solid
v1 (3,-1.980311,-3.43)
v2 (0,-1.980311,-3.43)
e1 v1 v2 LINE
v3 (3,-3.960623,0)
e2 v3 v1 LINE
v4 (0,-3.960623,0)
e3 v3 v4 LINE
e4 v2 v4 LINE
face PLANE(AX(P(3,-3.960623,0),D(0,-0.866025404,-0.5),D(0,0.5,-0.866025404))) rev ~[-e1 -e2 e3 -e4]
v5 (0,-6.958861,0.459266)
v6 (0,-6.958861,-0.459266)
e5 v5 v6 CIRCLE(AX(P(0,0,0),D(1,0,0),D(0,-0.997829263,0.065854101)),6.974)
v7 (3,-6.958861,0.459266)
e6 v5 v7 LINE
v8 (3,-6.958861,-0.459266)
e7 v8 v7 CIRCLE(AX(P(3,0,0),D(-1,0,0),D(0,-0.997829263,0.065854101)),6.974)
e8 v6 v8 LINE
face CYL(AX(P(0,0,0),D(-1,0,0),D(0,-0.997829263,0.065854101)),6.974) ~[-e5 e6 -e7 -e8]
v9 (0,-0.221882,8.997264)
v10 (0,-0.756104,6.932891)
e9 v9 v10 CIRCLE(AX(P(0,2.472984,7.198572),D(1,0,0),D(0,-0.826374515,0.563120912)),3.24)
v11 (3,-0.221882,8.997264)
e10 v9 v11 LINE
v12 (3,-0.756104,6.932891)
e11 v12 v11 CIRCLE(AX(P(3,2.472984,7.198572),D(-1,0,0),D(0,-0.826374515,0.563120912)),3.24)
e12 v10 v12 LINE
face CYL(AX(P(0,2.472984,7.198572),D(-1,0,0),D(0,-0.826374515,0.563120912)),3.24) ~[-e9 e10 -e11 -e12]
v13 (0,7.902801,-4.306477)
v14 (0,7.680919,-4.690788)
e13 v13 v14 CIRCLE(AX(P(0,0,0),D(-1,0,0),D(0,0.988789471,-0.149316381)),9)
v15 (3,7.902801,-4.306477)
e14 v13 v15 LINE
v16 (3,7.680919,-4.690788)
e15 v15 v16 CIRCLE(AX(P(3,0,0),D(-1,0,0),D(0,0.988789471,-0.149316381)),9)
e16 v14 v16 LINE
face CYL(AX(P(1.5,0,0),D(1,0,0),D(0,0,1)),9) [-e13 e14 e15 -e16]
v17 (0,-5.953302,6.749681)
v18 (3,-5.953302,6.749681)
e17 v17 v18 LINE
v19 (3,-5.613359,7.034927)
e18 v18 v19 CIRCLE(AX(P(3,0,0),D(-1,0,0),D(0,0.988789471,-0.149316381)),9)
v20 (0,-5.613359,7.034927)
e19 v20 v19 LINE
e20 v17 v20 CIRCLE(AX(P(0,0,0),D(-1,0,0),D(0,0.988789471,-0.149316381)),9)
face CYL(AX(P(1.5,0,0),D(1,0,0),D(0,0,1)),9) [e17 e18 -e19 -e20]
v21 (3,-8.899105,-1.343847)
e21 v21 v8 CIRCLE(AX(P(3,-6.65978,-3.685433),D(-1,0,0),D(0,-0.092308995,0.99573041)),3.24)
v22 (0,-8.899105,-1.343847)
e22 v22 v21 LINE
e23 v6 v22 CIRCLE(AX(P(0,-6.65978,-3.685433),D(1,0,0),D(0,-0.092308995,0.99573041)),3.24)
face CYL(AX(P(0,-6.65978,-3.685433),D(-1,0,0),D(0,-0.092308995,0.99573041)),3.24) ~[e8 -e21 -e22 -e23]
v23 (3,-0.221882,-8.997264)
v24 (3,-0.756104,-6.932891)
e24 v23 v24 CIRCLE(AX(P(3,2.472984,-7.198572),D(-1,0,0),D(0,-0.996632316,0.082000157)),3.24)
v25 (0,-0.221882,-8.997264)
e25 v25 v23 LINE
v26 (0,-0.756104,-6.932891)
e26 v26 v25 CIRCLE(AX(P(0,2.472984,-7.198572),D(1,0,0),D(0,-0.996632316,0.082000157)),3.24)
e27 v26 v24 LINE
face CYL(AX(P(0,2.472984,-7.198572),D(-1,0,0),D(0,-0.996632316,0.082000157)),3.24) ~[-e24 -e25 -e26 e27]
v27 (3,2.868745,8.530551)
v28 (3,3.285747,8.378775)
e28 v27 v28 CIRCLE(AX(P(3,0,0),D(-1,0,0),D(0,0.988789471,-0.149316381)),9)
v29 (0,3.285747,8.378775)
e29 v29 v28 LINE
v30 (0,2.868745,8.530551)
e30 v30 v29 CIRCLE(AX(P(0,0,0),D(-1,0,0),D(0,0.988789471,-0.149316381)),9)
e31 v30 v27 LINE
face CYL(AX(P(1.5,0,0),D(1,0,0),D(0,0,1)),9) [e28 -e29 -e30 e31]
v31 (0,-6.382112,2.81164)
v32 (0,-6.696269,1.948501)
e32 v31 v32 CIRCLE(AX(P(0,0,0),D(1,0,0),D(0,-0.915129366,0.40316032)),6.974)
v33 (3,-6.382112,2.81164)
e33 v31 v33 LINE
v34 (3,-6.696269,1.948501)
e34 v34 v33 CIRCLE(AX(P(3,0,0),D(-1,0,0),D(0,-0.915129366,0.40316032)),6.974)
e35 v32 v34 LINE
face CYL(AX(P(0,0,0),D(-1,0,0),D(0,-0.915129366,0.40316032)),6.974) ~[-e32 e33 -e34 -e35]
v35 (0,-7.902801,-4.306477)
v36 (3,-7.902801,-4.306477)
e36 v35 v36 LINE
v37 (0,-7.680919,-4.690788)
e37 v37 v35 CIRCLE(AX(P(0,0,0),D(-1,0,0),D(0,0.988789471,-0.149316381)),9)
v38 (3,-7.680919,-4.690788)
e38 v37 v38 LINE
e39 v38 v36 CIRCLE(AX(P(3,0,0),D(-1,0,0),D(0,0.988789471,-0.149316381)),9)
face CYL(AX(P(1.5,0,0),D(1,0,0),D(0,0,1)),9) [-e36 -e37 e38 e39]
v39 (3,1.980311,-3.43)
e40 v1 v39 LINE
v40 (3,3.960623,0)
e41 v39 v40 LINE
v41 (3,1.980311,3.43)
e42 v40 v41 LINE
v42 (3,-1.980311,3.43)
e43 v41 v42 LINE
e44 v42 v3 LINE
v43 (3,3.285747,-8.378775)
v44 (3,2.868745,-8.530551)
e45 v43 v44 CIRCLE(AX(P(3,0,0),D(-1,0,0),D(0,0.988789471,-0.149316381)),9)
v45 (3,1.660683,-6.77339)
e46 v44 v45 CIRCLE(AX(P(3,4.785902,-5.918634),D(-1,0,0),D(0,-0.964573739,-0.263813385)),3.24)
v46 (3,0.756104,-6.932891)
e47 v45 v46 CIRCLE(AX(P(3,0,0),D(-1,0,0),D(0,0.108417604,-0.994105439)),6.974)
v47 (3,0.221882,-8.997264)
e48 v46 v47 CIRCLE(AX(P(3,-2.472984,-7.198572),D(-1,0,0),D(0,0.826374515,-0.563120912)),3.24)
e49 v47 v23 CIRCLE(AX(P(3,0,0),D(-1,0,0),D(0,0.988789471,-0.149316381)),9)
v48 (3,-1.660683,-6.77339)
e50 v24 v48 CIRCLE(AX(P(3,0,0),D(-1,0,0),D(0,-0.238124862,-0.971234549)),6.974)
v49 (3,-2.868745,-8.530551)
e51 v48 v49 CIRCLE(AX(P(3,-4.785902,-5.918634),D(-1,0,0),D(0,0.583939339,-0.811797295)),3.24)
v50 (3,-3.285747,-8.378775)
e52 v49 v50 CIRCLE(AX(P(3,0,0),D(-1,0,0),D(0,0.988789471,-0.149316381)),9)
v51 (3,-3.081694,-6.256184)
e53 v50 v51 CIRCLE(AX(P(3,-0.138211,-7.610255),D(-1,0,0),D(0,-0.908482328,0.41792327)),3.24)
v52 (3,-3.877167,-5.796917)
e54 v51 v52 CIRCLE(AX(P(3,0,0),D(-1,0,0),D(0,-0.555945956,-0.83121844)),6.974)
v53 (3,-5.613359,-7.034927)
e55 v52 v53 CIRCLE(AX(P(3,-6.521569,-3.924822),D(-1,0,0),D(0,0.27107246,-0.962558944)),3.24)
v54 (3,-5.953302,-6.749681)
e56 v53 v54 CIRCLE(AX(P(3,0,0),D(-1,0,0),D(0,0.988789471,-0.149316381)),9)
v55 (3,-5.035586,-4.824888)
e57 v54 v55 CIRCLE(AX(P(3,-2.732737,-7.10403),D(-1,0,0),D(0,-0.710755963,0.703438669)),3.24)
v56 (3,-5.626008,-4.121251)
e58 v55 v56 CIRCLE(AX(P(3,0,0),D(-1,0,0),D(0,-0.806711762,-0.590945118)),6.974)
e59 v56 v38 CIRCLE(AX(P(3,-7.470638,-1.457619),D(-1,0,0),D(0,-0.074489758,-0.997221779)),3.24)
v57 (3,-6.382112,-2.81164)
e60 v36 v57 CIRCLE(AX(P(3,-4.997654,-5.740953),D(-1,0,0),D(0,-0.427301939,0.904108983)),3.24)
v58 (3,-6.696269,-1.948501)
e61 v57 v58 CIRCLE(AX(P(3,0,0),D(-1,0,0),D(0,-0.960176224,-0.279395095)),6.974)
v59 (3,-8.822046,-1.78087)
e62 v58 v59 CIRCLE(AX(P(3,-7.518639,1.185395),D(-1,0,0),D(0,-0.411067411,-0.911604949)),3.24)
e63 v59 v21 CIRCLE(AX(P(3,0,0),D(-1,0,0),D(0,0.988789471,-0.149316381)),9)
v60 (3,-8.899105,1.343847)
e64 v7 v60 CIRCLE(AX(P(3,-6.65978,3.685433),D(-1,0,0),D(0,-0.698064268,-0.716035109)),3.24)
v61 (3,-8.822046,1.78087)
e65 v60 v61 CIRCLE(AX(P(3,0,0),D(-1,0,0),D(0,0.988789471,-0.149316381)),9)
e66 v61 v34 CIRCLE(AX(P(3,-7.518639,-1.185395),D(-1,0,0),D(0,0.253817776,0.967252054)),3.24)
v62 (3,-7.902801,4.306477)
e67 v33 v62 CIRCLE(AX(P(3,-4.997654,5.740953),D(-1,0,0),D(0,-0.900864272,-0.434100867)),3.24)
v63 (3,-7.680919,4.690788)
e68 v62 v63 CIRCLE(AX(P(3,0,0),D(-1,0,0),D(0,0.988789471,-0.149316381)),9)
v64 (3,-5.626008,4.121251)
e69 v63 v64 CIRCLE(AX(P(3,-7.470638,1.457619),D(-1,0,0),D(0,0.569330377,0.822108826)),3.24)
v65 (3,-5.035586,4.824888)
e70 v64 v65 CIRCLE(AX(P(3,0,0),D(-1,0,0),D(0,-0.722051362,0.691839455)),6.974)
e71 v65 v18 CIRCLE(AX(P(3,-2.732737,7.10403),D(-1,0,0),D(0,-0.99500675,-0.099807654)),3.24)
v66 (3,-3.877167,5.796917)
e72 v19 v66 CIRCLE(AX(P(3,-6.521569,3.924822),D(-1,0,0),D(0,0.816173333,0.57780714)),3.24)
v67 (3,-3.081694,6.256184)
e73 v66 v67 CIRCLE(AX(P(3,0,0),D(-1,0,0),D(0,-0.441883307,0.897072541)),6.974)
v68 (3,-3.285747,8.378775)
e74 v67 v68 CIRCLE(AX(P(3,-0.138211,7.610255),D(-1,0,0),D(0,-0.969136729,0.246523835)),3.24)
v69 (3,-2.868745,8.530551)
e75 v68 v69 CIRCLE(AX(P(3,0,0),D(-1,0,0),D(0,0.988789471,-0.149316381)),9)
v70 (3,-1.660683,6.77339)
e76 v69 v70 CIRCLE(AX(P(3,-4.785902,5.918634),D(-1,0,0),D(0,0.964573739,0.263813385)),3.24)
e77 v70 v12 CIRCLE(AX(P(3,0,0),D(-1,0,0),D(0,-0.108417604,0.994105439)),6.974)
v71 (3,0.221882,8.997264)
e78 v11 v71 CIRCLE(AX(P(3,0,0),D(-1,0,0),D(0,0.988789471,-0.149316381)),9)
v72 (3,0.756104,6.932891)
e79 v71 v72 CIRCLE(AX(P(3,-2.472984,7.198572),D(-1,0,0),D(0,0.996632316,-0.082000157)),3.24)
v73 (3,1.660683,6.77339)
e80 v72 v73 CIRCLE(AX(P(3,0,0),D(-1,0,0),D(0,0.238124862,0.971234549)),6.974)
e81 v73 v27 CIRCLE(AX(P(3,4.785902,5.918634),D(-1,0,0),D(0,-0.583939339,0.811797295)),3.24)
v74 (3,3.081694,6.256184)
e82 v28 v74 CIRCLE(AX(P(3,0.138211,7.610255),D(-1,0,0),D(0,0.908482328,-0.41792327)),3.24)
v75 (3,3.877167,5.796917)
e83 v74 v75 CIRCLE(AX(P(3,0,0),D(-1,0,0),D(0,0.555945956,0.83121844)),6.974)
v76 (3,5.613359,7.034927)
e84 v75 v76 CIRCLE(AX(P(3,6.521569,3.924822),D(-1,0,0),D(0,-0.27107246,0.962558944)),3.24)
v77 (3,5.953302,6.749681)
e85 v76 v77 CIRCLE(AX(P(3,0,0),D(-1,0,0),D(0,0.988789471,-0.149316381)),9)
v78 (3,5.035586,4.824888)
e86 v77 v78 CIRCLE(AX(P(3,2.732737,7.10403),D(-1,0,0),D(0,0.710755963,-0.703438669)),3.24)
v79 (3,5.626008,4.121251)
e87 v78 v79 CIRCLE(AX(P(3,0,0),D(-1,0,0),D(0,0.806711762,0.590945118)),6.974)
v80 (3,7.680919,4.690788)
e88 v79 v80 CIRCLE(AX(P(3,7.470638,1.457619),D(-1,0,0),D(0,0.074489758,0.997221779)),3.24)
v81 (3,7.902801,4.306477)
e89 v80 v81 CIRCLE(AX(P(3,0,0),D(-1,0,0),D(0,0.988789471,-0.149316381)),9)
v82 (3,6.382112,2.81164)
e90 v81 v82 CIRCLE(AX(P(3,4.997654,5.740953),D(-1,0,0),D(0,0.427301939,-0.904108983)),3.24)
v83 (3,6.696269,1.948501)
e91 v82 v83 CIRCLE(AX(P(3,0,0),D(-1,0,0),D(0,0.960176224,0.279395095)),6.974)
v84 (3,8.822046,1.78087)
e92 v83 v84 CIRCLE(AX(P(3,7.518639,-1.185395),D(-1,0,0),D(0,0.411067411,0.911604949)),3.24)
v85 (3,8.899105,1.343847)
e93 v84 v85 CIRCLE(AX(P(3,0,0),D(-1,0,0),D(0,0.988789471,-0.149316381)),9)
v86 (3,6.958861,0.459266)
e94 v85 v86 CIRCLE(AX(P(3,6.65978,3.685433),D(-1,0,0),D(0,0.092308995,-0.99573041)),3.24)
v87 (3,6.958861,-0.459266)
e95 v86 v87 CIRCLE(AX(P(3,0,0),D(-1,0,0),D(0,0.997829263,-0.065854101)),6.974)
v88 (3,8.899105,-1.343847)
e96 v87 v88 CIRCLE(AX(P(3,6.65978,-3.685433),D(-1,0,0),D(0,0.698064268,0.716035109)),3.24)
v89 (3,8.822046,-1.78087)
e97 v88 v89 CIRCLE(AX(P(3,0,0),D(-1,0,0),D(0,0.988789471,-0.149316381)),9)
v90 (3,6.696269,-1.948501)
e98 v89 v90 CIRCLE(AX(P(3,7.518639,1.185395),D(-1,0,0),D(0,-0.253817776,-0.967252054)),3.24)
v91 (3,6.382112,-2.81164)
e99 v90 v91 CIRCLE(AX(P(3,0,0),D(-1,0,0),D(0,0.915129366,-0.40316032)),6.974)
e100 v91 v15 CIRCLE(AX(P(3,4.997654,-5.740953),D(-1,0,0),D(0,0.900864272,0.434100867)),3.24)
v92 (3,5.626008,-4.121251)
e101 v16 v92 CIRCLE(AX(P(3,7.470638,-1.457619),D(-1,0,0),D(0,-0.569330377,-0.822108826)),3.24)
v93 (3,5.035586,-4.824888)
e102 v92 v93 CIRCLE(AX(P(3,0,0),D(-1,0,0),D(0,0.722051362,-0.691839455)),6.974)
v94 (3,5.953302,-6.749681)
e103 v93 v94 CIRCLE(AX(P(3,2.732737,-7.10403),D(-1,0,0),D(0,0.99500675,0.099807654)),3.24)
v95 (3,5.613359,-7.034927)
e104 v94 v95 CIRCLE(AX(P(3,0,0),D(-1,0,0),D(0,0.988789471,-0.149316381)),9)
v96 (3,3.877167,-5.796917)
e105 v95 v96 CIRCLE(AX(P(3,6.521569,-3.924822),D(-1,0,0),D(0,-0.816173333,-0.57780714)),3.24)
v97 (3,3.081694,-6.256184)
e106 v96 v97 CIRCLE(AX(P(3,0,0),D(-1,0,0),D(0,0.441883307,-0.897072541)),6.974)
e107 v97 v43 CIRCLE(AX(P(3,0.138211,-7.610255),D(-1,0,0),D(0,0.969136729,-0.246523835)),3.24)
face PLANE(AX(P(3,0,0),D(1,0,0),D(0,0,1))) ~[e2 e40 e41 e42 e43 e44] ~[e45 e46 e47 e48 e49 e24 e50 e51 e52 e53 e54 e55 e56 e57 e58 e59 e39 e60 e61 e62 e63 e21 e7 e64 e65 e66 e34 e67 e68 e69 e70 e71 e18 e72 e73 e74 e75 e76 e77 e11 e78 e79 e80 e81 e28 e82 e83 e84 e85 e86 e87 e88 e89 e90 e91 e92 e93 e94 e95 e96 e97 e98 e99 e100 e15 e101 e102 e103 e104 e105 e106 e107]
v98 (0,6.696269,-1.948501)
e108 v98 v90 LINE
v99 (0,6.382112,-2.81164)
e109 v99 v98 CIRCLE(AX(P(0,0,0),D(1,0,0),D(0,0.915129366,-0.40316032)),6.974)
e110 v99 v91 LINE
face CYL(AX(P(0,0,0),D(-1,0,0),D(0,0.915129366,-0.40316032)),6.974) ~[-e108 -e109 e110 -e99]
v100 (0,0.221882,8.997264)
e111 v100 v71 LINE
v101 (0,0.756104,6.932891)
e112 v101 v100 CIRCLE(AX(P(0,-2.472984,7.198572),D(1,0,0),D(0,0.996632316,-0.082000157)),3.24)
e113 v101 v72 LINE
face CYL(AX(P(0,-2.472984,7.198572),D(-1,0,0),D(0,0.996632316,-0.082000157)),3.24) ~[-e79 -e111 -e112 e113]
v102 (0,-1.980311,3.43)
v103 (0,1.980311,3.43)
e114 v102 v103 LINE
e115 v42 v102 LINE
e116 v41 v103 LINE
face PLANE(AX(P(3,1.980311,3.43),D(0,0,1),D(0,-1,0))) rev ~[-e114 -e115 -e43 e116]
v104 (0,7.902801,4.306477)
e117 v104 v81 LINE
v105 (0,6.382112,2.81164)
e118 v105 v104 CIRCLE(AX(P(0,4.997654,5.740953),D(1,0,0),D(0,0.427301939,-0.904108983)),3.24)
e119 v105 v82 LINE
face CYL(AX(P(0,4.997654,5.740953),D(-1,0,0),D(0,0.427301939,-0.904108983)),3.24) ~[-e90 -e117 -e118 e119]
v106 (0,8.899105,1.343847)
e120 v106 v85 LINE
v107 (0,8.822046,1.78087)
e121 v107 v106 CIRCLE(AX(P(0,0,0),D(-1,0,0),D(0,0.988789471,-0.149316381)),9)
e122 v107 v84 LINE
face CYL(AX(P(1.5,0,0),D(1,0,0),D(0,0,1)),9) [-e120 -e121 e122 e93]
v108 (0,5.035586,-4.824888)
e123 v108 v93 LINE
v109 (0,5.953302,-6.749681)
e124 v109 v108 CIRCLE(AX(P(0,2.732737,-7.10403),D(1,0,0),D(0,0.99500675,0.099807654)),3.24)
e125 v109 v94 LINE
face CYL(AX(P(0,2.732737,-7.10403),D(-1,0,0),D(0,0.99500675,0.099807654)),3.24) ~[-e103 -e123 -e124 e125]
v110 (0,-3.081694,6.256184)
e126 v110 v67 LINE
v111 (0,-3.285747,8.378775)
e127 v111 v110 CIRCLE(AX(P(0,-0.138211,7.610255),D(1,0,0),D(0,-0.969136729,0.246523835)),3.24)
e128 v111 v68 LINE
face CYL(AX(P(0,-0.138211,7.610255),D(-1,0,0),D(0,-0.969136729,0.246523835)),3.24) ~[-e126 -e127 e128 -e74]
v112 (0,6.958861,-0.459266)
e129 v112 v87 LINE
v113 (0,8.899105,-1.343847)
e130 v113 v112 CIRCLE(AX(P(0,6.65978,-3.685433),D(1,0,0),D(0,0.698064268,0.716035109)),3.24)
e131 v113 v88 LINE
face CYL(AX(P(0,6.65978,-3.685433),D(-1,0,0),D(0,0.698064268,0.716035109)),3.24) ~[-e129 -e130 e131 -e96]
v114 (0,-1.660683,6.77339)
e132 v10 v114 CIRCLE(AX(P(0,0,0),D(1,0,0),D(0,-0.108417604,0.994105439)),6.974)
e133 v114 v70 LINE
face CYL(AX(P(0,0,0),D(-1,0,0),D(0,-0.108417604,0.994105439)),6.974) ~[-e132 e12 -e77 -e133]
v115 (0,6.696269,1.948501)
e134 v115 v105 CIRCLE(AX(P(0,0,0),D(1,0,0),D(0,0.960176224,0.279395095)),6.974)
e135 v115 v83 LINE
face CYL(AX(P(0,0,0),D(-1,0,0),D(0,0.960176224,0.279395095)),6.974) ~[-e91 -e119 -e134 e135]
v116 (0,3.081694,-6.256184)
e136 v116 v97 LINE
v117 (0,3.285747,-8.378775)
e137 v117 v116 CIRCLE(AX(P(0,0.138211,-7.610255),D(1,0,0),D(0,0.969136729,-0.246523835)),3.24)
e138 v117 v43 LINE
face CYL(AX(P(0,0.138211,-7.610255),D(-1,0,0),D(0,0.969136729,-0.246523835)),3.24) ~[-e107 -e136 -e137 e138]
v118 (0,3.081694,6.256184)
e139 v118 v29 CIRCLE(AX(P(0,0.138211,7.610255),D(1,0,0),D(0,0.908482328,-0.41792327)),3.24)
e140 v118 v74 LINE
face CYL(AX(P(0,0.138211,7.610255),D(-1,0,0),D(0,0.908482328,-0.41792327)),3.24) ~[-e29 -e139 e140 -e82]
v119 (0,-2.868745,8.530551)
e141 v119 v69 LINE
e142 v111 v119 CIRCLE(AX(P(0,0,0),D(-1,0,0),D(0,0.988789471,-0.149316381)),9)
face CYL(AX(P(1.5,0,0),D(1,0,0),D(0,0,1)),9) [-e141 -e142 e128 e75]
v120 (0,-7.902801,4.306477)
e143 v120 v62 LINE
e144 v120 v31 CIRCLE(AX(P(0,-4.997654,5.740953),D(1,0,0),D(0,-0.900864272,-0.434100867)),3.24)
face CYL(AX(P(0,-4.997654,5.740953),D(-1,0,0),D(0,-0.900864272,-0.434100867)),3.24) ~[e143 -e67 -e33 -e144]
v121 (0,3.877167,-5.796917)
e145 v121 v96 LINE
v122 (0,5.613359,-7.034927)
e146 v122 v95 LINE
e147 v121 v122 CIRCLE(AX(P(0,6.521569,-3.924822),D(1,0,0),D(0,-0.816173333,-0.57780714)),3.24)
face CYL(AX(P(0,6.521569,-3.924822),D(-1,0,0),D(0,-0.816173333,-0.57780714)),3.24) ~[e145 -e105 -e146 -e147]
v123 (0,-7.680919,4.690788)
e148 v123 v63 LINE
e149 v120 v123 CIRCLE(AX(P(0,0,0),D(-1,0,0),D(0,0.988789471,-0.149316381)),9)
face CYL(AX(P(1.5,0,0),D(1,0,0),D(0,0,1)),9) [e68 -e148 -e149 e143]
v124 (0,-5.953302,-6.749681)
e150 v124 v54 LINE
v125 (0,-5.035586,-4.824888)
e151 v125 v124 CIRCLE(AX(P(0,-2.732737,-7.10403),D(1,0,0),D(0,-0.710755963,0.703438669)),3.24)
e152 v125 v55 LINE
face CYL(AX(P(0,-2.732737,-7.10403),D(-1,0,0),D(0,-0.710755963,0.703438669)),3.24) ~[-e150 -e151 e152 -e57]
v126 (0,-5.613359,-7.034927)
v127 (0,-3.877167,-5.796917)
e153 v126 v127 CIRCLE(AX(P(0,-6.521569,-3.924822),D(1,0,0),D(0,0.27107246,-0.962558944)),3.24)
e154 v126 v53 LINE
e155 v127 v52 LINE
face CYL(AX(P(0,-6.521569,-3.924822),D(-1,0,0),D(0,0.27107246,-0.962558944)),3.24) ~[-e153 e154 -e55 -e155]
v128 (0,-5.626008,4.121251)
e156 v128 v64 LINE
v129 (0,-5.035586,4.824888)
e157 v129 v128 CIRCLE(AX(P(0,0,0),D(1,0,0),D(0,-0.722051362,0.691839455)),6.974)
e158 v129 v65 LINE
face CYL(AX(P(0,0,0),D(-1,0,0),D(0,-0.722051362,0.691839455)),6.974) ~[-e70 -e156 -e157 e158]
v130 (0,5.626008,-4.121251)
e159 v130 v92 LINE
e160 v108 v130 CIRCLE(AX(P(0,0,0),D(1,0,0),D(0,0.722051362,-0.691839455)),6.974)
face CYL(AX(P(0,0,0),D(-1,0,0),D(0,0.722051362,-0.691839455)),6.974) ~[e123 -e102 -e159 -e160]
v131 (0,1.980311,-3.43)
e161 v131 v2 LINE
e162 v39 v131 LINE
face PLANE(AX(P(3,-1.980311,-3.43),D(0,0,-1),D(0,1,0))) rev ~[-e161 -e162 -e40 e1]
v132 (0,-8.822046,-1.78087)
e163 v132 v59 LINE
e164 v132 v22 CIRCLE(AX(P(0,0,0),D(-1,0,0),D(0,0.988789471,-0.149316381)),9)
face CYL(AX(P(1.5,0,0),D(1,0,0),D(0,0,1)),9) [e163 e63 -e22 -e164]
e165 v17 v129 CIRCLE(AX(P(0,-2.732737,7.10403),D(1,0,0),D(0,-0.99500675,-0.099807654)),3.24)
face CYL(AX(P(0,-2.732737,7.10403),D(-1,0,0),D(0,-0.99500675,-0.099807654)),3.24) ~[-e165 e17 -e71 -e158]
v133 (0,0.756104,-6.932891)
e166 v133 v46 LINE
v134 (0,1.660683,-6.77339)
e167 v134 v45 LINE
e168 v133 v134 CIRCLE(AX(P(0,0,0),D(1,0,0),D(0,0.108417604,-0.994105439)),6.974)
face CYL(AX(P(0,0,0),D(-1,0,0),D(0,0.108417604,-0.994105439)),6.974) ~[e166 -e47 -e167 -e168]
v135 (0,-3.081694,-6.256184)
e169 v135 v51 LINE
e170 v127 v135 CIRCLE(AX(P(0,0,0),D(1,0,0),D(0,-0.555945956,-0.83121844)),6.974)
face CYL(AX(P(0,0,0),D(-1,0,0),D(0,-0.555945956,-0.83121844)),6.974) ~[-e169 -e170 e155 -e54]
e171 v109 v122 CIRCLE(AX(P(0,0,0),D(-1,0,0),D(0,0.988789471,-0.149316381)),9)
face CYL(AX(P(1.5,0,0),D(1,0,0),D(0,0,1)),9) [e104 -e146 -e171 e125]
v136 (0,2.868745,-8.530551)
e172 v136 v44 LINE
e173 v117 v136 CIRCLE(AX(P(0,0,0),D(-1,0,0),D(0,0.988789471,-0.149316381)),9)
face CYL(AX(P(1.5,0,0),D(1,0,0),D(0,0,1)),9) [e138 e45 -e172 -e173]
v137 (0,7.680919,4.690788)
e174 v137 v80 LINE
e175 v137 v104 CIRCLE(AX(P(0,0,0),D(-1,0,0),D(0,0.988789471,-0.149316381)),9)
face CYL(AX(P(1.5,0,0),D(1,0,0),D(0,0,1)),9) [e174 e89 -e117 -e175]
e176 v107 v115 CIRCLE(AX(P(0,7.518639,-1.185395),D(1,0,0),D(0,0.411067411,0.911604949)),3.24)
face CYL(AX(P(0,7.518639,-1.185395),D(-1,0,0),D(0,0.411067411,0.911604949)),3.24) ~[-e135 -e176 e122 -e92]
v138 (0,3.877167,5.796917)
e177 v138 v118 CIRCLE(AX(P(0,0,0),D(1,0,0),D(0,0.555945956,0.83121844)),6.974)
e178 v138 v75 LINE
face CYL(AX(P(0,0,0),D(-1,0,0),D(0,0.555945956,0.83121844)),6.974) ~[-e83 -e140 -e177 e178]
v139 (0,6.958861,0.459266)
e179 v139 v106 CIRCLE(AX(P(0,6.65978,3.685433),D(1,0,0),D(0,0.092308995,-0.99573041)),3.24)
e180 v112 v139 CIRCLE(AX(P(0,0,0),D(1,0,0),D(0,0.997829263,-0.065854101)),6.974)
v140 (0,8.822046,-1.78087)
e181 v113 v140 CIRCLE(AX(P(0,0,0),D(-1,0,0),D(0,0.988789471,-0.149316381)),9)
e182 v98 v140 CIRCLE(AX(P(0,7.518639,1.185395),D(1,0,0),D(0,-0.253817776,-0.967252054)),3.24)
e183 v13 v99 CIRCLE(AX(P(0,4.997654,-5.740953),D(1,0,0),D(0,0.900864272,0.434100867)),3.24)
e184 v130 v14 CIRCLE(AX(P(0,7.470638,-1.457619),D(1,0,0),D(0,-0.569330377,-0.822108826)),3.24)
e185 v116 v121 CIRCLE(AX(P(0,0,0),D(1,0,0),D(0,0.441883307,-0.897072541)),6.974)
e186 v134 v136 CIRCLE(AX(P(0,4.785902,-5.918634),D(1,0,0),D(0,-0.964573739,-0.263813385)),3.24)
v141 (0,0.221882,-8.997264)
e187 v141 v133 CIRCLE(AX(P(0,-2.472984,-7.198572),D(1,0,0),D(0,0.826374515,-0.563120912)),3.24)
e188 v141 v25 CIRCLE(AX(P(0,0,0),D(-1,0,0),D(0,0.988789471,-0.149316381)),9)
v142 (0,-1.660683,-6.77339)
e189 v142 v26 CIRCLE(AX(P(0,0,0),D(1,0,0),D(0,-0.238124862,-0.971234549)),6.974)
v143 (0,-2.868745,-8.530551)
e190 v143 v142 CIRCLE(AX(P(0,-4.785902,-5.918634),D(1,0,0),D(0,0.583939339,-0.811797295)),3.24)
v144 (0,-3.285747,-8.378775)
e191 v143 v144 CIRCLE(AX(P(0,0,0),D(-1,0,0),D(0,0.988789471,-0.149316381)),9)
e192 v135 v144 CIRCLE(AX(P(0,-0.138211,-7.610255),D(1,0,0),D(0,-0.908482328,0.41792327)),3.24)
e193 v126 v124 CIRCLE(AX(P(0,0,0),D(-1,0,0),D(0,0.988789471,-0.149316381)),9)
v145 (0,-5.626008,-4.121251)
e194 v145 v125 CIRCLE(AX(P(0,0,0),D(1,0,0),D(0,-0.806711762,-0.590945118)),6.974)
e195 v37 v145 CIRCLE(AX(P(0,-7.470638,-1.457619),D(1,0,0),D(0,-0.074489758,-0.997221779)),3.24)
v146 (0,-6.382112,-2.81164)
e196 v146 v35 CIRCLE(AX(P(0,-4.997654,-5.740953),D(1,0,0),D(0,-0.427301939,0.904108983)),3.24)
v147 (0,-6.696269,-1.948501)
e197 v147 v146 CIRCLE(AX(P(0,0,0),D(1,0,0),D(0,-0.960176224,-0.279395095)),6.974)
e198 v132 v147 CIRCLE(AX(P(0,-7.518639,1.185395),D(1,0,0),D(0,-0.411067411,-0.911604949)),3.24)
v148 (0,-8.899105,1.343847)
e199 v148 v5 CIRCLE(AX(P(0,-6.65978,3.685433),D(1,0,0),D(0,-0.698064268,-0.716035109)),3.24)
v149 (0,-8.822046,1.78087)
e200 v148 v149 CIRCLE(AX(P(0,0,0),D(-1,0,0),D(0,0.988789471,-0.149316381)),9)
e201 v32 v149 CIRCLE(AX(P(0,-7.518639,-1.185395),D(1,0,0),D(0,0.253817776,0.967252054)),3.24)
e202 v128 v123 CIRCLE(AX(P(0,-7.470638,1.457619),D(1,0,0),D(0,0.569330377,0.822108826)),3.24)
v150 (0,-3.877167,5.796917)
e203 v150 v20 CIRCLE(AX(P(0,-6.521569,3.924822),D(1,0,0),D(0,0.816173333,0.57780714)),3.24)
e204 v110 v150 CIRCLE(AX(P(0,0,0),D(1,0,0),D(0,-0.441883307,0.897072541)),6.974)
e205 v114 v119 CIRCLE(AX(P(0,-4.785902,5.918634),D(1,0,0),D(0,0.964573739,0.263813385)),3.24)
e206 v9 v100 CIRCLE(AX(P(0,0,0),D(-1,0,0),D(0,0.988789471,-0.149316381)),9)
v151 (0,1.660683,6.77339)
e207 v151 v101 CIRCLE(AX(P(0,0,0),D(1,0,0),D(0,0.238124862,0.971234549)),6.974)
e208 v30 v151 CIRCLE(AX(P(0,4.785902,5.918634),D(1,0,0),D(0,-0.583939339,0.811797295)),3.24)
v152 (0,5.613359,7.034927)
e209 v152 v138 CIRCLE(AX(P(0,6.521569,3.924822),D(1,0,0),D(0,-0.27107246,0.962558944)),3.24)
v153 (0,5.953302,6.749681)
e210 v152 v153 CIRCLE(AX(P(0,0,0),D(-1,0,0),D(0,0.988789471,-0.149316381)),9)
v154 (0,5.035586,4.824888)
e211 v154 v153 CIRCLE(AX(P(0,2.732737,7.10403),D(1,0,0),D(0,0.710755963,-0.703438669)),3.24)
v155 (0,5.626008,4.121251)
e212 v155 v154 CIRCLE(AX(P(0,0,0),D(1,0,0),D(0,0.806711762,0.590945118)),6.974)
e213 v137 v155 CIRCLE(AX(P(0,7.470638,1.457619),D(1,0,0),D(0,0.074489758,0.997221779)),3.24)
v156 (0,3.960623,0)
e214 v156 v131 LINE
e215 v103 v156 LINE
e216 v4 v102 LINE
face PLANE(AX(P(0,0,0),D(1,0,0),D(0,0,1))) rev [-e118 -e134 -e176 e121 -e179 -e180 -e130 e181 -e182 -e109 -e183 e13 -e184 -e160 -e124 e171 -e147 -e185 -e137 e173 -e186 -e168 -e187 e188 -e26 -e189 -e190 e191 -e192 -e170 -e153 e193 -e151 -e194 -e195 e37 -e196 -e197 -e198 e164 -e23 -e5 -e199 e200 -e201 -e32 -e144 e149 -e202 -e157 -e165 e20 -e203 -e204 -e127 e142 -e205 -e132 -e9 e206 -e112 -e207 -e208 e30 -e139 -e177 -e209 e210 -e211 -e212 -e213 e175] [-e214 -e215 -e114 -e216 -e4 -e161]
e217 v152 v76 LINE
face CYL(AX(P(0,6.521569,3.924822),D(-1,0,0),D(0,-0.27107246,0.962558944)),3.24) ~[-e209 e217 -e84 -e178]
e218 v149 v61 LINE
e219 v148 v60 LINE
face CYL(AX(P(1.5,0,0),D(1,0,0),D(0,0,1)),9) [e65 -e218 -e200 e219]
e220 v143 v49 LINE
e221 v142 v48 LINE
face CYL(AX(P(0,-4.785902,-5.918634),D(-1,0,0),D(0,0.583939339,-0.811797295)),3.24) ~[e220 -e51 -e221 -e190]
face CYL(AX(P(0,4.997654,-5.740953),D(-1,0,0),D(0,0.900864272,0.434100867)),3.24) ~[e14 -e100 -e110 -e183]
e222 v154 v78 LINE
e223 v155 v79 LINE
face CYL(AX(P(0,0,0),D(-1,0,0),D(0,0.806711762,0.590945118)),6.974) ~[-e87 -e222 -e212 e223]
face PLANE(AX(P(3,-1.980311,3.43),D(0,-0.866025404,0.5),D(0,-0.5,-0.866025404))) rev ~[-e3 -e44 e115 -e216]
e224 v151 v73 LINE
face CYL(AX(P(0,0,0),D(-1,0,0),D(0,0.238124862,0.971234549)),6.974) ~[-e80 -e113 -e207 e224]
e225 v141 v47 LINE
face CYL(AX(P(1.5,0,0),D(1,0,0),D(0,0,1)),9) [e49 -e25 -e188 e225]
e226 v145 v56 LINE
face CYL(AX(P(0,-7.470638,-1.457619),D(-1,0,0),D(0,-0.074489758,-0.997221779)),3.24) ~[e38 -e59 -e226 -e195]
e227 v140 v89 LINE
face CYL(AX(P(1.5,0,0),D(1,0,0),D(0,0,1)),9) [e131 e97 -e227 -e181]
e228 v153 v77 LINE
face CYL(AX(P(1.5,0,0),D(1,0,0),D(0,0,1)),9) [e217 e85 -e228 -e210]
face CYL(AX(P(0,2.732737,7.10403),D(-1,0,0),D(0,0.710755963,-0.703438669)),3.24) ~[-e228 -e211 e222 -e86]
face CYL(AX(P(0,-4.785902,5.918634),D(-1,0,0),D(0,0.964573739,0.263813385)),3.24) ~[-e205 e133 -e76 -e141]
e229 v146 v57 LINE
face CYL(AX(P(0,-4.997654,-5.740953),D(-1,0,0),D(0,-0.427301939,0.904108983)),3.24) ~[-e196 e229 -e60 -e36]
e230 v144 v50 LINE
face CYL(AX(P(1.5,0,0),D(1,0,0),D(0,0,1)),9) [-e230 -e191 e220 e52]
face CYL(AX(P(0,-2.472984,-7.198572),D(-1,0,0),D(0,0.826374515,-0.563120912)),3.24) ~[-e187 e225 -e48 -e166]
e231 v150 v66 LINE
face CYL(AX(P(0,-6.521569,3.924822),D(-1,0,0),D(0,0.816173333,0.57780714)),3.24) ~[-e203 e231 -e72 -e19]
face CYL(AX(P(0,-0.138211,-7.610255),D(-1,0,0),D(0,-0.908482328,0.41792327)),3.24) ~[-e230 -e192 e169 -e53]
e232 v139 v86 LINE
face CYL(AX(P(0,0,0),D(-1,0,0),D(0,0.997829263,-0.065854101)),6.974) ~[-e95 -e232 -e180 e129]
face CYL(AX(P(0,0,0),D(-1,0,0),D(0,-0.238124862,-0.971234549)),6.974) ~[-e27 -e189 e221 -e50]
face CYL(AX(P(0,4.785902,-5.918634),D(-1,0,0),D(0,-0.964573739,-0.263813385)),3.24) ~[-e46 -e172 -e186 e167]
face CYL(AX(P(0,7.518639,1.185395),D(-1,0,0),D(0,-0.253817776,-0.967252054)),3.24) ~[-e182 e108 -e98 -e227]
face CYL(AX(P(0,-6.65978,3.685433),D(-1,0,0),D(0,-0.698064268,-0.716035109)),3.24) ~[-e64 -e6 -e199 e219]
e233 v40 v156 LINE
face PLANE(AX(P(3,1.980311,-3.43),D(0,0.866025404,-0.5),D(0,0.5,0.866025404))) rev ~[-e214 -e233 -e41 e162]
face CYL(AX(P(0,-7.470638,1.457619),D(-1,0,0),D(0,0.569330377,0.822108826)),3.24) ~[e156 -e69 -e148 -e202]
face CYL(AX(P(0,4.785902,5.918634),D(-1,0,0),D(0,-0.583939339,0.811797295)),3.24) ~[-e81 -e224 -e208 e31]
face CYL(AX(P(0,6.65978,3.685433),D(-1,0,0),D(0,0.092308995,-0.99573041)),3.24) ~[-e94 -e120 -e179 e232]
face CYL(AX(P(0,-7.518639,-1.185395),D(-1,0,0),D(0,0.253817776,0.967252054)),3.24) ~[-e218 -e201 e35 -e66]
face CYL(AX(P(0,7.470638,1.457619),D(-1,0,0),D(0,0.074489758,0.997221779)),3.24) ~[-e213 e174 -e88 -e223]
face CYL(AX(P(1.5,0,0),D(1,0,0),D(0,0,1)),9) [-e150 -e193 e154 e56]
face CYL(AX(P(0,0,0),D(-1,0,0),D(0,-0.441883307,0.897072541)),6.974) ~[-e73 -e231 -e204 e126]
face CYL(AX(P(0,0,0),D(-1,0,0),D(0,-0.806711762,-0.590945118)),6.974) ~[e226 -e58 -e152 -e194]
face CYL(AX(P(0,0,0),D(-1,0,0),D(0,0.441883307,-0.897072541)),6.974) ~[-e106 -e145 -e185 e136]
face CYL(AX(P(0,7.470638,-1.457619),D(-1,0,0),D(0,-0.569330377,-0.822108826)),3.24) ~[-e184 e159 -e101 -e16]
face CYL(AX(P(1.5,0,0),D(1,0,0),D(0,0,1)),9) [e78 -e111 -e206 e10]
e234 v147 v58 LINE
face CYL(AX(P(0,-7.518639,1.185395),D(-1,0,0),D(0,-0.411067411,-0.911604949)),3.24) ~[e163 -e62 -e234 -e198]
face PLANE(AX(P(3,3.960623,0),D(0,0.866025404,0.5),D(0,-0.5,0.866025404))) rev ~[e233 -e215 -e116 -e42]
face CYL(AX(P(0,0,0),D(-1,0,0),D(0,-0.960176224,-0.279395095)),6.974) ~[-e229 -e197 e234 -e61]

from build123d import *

# Parameters (mm, degrees)
BASPROSKE_W        = 3
BASPROSKE_H        = 9
TOOTHCUT_DEPTH     = 14.076696831
TEETHCUTS_COUNT    = 18
TEETHCUTS_ANGLE    = 340
CUT_EXTRUDE1_DEPTH = 14.007462246


with BuildPart() as part:
    # BasProSke → Base-Revolve (revolve)
    with BuildSketch(Plane(origin=(0, 0, 0), x_dir=(1, 0, 0), z_dir=(0, 1, 0)), mode=Mode.PRIVATE) as base_revolve_sk:
        with Locations((1.5, 4.5)):
            Rectangle(BASPROSKE_W, BASPROSKE_H)
    revolve(base_revolve_sk.sketch.rotate(Axis((-10, 0, 0), (1, 0, 0)), 180), axis=Axis((-10, 0, 0), (1, 0, 0)))

    # TooCutSke → ToothCut (cut, through all)
    with BuildSketch(Plane(origin=(0, 0, 0), x_dir=(0, 0, -1), z_dir=(1, 0, 0))):
        with BuildLine():
            ThreePointArc((0.45926649, 6.958861278), (0, 6.974), (-0.45926649, 6.958861278))
            ThreePointArc((-0.45926649, 6.958861278), (-0.743858876, 8.01799277), (-1.365479267, 8.921508366))
            ThreePointArc((-1.365479267, 8.921508366), (0, 9.0254), (1.365479267, 8.921508366))
            ThreePointArc((1.365479267, 8.921508366), (0.743858876, 8.01799277), (0.45926649, 6.958861278))
        make_face()
    toothcut = extrude(amount=TOOTHCUT_DEPTH, mode=Mode.SUBTRACT)

    # TeethCuts: ToothCut ×18 about axis
    teethcuts_axis = Axis((-10, 0, 0), (1, 0, 0))
    for i in range(1, TEETHCUTS_COUNT):
        add(toothcut.rotate(teethcuts_axis, i * TEETHCUTS_ANGLE / (TEETHCUTS_COUNT - 1)), mode=Mode.SUBTRACT)

    # Sketch1 → Cut-Extrude1 (cut, through all)
    with BuildSketch(Plane(origin=(3, 0, 0), x_dir=(0, 0, -1), z_dir=(1, 0, 0))):
        Polygon((0, 3.960622847), (-3.43, 1.980311423), (-3.43, -1.980311423), (0, -3.960622847), (3.43, -1.980311423), (3.43, 1.980311423), align=None)
    extrude(amount=-CUT_EXTRUDE1_DEPTH, mode=Mode.SUBTRACT)


solid = part.part
